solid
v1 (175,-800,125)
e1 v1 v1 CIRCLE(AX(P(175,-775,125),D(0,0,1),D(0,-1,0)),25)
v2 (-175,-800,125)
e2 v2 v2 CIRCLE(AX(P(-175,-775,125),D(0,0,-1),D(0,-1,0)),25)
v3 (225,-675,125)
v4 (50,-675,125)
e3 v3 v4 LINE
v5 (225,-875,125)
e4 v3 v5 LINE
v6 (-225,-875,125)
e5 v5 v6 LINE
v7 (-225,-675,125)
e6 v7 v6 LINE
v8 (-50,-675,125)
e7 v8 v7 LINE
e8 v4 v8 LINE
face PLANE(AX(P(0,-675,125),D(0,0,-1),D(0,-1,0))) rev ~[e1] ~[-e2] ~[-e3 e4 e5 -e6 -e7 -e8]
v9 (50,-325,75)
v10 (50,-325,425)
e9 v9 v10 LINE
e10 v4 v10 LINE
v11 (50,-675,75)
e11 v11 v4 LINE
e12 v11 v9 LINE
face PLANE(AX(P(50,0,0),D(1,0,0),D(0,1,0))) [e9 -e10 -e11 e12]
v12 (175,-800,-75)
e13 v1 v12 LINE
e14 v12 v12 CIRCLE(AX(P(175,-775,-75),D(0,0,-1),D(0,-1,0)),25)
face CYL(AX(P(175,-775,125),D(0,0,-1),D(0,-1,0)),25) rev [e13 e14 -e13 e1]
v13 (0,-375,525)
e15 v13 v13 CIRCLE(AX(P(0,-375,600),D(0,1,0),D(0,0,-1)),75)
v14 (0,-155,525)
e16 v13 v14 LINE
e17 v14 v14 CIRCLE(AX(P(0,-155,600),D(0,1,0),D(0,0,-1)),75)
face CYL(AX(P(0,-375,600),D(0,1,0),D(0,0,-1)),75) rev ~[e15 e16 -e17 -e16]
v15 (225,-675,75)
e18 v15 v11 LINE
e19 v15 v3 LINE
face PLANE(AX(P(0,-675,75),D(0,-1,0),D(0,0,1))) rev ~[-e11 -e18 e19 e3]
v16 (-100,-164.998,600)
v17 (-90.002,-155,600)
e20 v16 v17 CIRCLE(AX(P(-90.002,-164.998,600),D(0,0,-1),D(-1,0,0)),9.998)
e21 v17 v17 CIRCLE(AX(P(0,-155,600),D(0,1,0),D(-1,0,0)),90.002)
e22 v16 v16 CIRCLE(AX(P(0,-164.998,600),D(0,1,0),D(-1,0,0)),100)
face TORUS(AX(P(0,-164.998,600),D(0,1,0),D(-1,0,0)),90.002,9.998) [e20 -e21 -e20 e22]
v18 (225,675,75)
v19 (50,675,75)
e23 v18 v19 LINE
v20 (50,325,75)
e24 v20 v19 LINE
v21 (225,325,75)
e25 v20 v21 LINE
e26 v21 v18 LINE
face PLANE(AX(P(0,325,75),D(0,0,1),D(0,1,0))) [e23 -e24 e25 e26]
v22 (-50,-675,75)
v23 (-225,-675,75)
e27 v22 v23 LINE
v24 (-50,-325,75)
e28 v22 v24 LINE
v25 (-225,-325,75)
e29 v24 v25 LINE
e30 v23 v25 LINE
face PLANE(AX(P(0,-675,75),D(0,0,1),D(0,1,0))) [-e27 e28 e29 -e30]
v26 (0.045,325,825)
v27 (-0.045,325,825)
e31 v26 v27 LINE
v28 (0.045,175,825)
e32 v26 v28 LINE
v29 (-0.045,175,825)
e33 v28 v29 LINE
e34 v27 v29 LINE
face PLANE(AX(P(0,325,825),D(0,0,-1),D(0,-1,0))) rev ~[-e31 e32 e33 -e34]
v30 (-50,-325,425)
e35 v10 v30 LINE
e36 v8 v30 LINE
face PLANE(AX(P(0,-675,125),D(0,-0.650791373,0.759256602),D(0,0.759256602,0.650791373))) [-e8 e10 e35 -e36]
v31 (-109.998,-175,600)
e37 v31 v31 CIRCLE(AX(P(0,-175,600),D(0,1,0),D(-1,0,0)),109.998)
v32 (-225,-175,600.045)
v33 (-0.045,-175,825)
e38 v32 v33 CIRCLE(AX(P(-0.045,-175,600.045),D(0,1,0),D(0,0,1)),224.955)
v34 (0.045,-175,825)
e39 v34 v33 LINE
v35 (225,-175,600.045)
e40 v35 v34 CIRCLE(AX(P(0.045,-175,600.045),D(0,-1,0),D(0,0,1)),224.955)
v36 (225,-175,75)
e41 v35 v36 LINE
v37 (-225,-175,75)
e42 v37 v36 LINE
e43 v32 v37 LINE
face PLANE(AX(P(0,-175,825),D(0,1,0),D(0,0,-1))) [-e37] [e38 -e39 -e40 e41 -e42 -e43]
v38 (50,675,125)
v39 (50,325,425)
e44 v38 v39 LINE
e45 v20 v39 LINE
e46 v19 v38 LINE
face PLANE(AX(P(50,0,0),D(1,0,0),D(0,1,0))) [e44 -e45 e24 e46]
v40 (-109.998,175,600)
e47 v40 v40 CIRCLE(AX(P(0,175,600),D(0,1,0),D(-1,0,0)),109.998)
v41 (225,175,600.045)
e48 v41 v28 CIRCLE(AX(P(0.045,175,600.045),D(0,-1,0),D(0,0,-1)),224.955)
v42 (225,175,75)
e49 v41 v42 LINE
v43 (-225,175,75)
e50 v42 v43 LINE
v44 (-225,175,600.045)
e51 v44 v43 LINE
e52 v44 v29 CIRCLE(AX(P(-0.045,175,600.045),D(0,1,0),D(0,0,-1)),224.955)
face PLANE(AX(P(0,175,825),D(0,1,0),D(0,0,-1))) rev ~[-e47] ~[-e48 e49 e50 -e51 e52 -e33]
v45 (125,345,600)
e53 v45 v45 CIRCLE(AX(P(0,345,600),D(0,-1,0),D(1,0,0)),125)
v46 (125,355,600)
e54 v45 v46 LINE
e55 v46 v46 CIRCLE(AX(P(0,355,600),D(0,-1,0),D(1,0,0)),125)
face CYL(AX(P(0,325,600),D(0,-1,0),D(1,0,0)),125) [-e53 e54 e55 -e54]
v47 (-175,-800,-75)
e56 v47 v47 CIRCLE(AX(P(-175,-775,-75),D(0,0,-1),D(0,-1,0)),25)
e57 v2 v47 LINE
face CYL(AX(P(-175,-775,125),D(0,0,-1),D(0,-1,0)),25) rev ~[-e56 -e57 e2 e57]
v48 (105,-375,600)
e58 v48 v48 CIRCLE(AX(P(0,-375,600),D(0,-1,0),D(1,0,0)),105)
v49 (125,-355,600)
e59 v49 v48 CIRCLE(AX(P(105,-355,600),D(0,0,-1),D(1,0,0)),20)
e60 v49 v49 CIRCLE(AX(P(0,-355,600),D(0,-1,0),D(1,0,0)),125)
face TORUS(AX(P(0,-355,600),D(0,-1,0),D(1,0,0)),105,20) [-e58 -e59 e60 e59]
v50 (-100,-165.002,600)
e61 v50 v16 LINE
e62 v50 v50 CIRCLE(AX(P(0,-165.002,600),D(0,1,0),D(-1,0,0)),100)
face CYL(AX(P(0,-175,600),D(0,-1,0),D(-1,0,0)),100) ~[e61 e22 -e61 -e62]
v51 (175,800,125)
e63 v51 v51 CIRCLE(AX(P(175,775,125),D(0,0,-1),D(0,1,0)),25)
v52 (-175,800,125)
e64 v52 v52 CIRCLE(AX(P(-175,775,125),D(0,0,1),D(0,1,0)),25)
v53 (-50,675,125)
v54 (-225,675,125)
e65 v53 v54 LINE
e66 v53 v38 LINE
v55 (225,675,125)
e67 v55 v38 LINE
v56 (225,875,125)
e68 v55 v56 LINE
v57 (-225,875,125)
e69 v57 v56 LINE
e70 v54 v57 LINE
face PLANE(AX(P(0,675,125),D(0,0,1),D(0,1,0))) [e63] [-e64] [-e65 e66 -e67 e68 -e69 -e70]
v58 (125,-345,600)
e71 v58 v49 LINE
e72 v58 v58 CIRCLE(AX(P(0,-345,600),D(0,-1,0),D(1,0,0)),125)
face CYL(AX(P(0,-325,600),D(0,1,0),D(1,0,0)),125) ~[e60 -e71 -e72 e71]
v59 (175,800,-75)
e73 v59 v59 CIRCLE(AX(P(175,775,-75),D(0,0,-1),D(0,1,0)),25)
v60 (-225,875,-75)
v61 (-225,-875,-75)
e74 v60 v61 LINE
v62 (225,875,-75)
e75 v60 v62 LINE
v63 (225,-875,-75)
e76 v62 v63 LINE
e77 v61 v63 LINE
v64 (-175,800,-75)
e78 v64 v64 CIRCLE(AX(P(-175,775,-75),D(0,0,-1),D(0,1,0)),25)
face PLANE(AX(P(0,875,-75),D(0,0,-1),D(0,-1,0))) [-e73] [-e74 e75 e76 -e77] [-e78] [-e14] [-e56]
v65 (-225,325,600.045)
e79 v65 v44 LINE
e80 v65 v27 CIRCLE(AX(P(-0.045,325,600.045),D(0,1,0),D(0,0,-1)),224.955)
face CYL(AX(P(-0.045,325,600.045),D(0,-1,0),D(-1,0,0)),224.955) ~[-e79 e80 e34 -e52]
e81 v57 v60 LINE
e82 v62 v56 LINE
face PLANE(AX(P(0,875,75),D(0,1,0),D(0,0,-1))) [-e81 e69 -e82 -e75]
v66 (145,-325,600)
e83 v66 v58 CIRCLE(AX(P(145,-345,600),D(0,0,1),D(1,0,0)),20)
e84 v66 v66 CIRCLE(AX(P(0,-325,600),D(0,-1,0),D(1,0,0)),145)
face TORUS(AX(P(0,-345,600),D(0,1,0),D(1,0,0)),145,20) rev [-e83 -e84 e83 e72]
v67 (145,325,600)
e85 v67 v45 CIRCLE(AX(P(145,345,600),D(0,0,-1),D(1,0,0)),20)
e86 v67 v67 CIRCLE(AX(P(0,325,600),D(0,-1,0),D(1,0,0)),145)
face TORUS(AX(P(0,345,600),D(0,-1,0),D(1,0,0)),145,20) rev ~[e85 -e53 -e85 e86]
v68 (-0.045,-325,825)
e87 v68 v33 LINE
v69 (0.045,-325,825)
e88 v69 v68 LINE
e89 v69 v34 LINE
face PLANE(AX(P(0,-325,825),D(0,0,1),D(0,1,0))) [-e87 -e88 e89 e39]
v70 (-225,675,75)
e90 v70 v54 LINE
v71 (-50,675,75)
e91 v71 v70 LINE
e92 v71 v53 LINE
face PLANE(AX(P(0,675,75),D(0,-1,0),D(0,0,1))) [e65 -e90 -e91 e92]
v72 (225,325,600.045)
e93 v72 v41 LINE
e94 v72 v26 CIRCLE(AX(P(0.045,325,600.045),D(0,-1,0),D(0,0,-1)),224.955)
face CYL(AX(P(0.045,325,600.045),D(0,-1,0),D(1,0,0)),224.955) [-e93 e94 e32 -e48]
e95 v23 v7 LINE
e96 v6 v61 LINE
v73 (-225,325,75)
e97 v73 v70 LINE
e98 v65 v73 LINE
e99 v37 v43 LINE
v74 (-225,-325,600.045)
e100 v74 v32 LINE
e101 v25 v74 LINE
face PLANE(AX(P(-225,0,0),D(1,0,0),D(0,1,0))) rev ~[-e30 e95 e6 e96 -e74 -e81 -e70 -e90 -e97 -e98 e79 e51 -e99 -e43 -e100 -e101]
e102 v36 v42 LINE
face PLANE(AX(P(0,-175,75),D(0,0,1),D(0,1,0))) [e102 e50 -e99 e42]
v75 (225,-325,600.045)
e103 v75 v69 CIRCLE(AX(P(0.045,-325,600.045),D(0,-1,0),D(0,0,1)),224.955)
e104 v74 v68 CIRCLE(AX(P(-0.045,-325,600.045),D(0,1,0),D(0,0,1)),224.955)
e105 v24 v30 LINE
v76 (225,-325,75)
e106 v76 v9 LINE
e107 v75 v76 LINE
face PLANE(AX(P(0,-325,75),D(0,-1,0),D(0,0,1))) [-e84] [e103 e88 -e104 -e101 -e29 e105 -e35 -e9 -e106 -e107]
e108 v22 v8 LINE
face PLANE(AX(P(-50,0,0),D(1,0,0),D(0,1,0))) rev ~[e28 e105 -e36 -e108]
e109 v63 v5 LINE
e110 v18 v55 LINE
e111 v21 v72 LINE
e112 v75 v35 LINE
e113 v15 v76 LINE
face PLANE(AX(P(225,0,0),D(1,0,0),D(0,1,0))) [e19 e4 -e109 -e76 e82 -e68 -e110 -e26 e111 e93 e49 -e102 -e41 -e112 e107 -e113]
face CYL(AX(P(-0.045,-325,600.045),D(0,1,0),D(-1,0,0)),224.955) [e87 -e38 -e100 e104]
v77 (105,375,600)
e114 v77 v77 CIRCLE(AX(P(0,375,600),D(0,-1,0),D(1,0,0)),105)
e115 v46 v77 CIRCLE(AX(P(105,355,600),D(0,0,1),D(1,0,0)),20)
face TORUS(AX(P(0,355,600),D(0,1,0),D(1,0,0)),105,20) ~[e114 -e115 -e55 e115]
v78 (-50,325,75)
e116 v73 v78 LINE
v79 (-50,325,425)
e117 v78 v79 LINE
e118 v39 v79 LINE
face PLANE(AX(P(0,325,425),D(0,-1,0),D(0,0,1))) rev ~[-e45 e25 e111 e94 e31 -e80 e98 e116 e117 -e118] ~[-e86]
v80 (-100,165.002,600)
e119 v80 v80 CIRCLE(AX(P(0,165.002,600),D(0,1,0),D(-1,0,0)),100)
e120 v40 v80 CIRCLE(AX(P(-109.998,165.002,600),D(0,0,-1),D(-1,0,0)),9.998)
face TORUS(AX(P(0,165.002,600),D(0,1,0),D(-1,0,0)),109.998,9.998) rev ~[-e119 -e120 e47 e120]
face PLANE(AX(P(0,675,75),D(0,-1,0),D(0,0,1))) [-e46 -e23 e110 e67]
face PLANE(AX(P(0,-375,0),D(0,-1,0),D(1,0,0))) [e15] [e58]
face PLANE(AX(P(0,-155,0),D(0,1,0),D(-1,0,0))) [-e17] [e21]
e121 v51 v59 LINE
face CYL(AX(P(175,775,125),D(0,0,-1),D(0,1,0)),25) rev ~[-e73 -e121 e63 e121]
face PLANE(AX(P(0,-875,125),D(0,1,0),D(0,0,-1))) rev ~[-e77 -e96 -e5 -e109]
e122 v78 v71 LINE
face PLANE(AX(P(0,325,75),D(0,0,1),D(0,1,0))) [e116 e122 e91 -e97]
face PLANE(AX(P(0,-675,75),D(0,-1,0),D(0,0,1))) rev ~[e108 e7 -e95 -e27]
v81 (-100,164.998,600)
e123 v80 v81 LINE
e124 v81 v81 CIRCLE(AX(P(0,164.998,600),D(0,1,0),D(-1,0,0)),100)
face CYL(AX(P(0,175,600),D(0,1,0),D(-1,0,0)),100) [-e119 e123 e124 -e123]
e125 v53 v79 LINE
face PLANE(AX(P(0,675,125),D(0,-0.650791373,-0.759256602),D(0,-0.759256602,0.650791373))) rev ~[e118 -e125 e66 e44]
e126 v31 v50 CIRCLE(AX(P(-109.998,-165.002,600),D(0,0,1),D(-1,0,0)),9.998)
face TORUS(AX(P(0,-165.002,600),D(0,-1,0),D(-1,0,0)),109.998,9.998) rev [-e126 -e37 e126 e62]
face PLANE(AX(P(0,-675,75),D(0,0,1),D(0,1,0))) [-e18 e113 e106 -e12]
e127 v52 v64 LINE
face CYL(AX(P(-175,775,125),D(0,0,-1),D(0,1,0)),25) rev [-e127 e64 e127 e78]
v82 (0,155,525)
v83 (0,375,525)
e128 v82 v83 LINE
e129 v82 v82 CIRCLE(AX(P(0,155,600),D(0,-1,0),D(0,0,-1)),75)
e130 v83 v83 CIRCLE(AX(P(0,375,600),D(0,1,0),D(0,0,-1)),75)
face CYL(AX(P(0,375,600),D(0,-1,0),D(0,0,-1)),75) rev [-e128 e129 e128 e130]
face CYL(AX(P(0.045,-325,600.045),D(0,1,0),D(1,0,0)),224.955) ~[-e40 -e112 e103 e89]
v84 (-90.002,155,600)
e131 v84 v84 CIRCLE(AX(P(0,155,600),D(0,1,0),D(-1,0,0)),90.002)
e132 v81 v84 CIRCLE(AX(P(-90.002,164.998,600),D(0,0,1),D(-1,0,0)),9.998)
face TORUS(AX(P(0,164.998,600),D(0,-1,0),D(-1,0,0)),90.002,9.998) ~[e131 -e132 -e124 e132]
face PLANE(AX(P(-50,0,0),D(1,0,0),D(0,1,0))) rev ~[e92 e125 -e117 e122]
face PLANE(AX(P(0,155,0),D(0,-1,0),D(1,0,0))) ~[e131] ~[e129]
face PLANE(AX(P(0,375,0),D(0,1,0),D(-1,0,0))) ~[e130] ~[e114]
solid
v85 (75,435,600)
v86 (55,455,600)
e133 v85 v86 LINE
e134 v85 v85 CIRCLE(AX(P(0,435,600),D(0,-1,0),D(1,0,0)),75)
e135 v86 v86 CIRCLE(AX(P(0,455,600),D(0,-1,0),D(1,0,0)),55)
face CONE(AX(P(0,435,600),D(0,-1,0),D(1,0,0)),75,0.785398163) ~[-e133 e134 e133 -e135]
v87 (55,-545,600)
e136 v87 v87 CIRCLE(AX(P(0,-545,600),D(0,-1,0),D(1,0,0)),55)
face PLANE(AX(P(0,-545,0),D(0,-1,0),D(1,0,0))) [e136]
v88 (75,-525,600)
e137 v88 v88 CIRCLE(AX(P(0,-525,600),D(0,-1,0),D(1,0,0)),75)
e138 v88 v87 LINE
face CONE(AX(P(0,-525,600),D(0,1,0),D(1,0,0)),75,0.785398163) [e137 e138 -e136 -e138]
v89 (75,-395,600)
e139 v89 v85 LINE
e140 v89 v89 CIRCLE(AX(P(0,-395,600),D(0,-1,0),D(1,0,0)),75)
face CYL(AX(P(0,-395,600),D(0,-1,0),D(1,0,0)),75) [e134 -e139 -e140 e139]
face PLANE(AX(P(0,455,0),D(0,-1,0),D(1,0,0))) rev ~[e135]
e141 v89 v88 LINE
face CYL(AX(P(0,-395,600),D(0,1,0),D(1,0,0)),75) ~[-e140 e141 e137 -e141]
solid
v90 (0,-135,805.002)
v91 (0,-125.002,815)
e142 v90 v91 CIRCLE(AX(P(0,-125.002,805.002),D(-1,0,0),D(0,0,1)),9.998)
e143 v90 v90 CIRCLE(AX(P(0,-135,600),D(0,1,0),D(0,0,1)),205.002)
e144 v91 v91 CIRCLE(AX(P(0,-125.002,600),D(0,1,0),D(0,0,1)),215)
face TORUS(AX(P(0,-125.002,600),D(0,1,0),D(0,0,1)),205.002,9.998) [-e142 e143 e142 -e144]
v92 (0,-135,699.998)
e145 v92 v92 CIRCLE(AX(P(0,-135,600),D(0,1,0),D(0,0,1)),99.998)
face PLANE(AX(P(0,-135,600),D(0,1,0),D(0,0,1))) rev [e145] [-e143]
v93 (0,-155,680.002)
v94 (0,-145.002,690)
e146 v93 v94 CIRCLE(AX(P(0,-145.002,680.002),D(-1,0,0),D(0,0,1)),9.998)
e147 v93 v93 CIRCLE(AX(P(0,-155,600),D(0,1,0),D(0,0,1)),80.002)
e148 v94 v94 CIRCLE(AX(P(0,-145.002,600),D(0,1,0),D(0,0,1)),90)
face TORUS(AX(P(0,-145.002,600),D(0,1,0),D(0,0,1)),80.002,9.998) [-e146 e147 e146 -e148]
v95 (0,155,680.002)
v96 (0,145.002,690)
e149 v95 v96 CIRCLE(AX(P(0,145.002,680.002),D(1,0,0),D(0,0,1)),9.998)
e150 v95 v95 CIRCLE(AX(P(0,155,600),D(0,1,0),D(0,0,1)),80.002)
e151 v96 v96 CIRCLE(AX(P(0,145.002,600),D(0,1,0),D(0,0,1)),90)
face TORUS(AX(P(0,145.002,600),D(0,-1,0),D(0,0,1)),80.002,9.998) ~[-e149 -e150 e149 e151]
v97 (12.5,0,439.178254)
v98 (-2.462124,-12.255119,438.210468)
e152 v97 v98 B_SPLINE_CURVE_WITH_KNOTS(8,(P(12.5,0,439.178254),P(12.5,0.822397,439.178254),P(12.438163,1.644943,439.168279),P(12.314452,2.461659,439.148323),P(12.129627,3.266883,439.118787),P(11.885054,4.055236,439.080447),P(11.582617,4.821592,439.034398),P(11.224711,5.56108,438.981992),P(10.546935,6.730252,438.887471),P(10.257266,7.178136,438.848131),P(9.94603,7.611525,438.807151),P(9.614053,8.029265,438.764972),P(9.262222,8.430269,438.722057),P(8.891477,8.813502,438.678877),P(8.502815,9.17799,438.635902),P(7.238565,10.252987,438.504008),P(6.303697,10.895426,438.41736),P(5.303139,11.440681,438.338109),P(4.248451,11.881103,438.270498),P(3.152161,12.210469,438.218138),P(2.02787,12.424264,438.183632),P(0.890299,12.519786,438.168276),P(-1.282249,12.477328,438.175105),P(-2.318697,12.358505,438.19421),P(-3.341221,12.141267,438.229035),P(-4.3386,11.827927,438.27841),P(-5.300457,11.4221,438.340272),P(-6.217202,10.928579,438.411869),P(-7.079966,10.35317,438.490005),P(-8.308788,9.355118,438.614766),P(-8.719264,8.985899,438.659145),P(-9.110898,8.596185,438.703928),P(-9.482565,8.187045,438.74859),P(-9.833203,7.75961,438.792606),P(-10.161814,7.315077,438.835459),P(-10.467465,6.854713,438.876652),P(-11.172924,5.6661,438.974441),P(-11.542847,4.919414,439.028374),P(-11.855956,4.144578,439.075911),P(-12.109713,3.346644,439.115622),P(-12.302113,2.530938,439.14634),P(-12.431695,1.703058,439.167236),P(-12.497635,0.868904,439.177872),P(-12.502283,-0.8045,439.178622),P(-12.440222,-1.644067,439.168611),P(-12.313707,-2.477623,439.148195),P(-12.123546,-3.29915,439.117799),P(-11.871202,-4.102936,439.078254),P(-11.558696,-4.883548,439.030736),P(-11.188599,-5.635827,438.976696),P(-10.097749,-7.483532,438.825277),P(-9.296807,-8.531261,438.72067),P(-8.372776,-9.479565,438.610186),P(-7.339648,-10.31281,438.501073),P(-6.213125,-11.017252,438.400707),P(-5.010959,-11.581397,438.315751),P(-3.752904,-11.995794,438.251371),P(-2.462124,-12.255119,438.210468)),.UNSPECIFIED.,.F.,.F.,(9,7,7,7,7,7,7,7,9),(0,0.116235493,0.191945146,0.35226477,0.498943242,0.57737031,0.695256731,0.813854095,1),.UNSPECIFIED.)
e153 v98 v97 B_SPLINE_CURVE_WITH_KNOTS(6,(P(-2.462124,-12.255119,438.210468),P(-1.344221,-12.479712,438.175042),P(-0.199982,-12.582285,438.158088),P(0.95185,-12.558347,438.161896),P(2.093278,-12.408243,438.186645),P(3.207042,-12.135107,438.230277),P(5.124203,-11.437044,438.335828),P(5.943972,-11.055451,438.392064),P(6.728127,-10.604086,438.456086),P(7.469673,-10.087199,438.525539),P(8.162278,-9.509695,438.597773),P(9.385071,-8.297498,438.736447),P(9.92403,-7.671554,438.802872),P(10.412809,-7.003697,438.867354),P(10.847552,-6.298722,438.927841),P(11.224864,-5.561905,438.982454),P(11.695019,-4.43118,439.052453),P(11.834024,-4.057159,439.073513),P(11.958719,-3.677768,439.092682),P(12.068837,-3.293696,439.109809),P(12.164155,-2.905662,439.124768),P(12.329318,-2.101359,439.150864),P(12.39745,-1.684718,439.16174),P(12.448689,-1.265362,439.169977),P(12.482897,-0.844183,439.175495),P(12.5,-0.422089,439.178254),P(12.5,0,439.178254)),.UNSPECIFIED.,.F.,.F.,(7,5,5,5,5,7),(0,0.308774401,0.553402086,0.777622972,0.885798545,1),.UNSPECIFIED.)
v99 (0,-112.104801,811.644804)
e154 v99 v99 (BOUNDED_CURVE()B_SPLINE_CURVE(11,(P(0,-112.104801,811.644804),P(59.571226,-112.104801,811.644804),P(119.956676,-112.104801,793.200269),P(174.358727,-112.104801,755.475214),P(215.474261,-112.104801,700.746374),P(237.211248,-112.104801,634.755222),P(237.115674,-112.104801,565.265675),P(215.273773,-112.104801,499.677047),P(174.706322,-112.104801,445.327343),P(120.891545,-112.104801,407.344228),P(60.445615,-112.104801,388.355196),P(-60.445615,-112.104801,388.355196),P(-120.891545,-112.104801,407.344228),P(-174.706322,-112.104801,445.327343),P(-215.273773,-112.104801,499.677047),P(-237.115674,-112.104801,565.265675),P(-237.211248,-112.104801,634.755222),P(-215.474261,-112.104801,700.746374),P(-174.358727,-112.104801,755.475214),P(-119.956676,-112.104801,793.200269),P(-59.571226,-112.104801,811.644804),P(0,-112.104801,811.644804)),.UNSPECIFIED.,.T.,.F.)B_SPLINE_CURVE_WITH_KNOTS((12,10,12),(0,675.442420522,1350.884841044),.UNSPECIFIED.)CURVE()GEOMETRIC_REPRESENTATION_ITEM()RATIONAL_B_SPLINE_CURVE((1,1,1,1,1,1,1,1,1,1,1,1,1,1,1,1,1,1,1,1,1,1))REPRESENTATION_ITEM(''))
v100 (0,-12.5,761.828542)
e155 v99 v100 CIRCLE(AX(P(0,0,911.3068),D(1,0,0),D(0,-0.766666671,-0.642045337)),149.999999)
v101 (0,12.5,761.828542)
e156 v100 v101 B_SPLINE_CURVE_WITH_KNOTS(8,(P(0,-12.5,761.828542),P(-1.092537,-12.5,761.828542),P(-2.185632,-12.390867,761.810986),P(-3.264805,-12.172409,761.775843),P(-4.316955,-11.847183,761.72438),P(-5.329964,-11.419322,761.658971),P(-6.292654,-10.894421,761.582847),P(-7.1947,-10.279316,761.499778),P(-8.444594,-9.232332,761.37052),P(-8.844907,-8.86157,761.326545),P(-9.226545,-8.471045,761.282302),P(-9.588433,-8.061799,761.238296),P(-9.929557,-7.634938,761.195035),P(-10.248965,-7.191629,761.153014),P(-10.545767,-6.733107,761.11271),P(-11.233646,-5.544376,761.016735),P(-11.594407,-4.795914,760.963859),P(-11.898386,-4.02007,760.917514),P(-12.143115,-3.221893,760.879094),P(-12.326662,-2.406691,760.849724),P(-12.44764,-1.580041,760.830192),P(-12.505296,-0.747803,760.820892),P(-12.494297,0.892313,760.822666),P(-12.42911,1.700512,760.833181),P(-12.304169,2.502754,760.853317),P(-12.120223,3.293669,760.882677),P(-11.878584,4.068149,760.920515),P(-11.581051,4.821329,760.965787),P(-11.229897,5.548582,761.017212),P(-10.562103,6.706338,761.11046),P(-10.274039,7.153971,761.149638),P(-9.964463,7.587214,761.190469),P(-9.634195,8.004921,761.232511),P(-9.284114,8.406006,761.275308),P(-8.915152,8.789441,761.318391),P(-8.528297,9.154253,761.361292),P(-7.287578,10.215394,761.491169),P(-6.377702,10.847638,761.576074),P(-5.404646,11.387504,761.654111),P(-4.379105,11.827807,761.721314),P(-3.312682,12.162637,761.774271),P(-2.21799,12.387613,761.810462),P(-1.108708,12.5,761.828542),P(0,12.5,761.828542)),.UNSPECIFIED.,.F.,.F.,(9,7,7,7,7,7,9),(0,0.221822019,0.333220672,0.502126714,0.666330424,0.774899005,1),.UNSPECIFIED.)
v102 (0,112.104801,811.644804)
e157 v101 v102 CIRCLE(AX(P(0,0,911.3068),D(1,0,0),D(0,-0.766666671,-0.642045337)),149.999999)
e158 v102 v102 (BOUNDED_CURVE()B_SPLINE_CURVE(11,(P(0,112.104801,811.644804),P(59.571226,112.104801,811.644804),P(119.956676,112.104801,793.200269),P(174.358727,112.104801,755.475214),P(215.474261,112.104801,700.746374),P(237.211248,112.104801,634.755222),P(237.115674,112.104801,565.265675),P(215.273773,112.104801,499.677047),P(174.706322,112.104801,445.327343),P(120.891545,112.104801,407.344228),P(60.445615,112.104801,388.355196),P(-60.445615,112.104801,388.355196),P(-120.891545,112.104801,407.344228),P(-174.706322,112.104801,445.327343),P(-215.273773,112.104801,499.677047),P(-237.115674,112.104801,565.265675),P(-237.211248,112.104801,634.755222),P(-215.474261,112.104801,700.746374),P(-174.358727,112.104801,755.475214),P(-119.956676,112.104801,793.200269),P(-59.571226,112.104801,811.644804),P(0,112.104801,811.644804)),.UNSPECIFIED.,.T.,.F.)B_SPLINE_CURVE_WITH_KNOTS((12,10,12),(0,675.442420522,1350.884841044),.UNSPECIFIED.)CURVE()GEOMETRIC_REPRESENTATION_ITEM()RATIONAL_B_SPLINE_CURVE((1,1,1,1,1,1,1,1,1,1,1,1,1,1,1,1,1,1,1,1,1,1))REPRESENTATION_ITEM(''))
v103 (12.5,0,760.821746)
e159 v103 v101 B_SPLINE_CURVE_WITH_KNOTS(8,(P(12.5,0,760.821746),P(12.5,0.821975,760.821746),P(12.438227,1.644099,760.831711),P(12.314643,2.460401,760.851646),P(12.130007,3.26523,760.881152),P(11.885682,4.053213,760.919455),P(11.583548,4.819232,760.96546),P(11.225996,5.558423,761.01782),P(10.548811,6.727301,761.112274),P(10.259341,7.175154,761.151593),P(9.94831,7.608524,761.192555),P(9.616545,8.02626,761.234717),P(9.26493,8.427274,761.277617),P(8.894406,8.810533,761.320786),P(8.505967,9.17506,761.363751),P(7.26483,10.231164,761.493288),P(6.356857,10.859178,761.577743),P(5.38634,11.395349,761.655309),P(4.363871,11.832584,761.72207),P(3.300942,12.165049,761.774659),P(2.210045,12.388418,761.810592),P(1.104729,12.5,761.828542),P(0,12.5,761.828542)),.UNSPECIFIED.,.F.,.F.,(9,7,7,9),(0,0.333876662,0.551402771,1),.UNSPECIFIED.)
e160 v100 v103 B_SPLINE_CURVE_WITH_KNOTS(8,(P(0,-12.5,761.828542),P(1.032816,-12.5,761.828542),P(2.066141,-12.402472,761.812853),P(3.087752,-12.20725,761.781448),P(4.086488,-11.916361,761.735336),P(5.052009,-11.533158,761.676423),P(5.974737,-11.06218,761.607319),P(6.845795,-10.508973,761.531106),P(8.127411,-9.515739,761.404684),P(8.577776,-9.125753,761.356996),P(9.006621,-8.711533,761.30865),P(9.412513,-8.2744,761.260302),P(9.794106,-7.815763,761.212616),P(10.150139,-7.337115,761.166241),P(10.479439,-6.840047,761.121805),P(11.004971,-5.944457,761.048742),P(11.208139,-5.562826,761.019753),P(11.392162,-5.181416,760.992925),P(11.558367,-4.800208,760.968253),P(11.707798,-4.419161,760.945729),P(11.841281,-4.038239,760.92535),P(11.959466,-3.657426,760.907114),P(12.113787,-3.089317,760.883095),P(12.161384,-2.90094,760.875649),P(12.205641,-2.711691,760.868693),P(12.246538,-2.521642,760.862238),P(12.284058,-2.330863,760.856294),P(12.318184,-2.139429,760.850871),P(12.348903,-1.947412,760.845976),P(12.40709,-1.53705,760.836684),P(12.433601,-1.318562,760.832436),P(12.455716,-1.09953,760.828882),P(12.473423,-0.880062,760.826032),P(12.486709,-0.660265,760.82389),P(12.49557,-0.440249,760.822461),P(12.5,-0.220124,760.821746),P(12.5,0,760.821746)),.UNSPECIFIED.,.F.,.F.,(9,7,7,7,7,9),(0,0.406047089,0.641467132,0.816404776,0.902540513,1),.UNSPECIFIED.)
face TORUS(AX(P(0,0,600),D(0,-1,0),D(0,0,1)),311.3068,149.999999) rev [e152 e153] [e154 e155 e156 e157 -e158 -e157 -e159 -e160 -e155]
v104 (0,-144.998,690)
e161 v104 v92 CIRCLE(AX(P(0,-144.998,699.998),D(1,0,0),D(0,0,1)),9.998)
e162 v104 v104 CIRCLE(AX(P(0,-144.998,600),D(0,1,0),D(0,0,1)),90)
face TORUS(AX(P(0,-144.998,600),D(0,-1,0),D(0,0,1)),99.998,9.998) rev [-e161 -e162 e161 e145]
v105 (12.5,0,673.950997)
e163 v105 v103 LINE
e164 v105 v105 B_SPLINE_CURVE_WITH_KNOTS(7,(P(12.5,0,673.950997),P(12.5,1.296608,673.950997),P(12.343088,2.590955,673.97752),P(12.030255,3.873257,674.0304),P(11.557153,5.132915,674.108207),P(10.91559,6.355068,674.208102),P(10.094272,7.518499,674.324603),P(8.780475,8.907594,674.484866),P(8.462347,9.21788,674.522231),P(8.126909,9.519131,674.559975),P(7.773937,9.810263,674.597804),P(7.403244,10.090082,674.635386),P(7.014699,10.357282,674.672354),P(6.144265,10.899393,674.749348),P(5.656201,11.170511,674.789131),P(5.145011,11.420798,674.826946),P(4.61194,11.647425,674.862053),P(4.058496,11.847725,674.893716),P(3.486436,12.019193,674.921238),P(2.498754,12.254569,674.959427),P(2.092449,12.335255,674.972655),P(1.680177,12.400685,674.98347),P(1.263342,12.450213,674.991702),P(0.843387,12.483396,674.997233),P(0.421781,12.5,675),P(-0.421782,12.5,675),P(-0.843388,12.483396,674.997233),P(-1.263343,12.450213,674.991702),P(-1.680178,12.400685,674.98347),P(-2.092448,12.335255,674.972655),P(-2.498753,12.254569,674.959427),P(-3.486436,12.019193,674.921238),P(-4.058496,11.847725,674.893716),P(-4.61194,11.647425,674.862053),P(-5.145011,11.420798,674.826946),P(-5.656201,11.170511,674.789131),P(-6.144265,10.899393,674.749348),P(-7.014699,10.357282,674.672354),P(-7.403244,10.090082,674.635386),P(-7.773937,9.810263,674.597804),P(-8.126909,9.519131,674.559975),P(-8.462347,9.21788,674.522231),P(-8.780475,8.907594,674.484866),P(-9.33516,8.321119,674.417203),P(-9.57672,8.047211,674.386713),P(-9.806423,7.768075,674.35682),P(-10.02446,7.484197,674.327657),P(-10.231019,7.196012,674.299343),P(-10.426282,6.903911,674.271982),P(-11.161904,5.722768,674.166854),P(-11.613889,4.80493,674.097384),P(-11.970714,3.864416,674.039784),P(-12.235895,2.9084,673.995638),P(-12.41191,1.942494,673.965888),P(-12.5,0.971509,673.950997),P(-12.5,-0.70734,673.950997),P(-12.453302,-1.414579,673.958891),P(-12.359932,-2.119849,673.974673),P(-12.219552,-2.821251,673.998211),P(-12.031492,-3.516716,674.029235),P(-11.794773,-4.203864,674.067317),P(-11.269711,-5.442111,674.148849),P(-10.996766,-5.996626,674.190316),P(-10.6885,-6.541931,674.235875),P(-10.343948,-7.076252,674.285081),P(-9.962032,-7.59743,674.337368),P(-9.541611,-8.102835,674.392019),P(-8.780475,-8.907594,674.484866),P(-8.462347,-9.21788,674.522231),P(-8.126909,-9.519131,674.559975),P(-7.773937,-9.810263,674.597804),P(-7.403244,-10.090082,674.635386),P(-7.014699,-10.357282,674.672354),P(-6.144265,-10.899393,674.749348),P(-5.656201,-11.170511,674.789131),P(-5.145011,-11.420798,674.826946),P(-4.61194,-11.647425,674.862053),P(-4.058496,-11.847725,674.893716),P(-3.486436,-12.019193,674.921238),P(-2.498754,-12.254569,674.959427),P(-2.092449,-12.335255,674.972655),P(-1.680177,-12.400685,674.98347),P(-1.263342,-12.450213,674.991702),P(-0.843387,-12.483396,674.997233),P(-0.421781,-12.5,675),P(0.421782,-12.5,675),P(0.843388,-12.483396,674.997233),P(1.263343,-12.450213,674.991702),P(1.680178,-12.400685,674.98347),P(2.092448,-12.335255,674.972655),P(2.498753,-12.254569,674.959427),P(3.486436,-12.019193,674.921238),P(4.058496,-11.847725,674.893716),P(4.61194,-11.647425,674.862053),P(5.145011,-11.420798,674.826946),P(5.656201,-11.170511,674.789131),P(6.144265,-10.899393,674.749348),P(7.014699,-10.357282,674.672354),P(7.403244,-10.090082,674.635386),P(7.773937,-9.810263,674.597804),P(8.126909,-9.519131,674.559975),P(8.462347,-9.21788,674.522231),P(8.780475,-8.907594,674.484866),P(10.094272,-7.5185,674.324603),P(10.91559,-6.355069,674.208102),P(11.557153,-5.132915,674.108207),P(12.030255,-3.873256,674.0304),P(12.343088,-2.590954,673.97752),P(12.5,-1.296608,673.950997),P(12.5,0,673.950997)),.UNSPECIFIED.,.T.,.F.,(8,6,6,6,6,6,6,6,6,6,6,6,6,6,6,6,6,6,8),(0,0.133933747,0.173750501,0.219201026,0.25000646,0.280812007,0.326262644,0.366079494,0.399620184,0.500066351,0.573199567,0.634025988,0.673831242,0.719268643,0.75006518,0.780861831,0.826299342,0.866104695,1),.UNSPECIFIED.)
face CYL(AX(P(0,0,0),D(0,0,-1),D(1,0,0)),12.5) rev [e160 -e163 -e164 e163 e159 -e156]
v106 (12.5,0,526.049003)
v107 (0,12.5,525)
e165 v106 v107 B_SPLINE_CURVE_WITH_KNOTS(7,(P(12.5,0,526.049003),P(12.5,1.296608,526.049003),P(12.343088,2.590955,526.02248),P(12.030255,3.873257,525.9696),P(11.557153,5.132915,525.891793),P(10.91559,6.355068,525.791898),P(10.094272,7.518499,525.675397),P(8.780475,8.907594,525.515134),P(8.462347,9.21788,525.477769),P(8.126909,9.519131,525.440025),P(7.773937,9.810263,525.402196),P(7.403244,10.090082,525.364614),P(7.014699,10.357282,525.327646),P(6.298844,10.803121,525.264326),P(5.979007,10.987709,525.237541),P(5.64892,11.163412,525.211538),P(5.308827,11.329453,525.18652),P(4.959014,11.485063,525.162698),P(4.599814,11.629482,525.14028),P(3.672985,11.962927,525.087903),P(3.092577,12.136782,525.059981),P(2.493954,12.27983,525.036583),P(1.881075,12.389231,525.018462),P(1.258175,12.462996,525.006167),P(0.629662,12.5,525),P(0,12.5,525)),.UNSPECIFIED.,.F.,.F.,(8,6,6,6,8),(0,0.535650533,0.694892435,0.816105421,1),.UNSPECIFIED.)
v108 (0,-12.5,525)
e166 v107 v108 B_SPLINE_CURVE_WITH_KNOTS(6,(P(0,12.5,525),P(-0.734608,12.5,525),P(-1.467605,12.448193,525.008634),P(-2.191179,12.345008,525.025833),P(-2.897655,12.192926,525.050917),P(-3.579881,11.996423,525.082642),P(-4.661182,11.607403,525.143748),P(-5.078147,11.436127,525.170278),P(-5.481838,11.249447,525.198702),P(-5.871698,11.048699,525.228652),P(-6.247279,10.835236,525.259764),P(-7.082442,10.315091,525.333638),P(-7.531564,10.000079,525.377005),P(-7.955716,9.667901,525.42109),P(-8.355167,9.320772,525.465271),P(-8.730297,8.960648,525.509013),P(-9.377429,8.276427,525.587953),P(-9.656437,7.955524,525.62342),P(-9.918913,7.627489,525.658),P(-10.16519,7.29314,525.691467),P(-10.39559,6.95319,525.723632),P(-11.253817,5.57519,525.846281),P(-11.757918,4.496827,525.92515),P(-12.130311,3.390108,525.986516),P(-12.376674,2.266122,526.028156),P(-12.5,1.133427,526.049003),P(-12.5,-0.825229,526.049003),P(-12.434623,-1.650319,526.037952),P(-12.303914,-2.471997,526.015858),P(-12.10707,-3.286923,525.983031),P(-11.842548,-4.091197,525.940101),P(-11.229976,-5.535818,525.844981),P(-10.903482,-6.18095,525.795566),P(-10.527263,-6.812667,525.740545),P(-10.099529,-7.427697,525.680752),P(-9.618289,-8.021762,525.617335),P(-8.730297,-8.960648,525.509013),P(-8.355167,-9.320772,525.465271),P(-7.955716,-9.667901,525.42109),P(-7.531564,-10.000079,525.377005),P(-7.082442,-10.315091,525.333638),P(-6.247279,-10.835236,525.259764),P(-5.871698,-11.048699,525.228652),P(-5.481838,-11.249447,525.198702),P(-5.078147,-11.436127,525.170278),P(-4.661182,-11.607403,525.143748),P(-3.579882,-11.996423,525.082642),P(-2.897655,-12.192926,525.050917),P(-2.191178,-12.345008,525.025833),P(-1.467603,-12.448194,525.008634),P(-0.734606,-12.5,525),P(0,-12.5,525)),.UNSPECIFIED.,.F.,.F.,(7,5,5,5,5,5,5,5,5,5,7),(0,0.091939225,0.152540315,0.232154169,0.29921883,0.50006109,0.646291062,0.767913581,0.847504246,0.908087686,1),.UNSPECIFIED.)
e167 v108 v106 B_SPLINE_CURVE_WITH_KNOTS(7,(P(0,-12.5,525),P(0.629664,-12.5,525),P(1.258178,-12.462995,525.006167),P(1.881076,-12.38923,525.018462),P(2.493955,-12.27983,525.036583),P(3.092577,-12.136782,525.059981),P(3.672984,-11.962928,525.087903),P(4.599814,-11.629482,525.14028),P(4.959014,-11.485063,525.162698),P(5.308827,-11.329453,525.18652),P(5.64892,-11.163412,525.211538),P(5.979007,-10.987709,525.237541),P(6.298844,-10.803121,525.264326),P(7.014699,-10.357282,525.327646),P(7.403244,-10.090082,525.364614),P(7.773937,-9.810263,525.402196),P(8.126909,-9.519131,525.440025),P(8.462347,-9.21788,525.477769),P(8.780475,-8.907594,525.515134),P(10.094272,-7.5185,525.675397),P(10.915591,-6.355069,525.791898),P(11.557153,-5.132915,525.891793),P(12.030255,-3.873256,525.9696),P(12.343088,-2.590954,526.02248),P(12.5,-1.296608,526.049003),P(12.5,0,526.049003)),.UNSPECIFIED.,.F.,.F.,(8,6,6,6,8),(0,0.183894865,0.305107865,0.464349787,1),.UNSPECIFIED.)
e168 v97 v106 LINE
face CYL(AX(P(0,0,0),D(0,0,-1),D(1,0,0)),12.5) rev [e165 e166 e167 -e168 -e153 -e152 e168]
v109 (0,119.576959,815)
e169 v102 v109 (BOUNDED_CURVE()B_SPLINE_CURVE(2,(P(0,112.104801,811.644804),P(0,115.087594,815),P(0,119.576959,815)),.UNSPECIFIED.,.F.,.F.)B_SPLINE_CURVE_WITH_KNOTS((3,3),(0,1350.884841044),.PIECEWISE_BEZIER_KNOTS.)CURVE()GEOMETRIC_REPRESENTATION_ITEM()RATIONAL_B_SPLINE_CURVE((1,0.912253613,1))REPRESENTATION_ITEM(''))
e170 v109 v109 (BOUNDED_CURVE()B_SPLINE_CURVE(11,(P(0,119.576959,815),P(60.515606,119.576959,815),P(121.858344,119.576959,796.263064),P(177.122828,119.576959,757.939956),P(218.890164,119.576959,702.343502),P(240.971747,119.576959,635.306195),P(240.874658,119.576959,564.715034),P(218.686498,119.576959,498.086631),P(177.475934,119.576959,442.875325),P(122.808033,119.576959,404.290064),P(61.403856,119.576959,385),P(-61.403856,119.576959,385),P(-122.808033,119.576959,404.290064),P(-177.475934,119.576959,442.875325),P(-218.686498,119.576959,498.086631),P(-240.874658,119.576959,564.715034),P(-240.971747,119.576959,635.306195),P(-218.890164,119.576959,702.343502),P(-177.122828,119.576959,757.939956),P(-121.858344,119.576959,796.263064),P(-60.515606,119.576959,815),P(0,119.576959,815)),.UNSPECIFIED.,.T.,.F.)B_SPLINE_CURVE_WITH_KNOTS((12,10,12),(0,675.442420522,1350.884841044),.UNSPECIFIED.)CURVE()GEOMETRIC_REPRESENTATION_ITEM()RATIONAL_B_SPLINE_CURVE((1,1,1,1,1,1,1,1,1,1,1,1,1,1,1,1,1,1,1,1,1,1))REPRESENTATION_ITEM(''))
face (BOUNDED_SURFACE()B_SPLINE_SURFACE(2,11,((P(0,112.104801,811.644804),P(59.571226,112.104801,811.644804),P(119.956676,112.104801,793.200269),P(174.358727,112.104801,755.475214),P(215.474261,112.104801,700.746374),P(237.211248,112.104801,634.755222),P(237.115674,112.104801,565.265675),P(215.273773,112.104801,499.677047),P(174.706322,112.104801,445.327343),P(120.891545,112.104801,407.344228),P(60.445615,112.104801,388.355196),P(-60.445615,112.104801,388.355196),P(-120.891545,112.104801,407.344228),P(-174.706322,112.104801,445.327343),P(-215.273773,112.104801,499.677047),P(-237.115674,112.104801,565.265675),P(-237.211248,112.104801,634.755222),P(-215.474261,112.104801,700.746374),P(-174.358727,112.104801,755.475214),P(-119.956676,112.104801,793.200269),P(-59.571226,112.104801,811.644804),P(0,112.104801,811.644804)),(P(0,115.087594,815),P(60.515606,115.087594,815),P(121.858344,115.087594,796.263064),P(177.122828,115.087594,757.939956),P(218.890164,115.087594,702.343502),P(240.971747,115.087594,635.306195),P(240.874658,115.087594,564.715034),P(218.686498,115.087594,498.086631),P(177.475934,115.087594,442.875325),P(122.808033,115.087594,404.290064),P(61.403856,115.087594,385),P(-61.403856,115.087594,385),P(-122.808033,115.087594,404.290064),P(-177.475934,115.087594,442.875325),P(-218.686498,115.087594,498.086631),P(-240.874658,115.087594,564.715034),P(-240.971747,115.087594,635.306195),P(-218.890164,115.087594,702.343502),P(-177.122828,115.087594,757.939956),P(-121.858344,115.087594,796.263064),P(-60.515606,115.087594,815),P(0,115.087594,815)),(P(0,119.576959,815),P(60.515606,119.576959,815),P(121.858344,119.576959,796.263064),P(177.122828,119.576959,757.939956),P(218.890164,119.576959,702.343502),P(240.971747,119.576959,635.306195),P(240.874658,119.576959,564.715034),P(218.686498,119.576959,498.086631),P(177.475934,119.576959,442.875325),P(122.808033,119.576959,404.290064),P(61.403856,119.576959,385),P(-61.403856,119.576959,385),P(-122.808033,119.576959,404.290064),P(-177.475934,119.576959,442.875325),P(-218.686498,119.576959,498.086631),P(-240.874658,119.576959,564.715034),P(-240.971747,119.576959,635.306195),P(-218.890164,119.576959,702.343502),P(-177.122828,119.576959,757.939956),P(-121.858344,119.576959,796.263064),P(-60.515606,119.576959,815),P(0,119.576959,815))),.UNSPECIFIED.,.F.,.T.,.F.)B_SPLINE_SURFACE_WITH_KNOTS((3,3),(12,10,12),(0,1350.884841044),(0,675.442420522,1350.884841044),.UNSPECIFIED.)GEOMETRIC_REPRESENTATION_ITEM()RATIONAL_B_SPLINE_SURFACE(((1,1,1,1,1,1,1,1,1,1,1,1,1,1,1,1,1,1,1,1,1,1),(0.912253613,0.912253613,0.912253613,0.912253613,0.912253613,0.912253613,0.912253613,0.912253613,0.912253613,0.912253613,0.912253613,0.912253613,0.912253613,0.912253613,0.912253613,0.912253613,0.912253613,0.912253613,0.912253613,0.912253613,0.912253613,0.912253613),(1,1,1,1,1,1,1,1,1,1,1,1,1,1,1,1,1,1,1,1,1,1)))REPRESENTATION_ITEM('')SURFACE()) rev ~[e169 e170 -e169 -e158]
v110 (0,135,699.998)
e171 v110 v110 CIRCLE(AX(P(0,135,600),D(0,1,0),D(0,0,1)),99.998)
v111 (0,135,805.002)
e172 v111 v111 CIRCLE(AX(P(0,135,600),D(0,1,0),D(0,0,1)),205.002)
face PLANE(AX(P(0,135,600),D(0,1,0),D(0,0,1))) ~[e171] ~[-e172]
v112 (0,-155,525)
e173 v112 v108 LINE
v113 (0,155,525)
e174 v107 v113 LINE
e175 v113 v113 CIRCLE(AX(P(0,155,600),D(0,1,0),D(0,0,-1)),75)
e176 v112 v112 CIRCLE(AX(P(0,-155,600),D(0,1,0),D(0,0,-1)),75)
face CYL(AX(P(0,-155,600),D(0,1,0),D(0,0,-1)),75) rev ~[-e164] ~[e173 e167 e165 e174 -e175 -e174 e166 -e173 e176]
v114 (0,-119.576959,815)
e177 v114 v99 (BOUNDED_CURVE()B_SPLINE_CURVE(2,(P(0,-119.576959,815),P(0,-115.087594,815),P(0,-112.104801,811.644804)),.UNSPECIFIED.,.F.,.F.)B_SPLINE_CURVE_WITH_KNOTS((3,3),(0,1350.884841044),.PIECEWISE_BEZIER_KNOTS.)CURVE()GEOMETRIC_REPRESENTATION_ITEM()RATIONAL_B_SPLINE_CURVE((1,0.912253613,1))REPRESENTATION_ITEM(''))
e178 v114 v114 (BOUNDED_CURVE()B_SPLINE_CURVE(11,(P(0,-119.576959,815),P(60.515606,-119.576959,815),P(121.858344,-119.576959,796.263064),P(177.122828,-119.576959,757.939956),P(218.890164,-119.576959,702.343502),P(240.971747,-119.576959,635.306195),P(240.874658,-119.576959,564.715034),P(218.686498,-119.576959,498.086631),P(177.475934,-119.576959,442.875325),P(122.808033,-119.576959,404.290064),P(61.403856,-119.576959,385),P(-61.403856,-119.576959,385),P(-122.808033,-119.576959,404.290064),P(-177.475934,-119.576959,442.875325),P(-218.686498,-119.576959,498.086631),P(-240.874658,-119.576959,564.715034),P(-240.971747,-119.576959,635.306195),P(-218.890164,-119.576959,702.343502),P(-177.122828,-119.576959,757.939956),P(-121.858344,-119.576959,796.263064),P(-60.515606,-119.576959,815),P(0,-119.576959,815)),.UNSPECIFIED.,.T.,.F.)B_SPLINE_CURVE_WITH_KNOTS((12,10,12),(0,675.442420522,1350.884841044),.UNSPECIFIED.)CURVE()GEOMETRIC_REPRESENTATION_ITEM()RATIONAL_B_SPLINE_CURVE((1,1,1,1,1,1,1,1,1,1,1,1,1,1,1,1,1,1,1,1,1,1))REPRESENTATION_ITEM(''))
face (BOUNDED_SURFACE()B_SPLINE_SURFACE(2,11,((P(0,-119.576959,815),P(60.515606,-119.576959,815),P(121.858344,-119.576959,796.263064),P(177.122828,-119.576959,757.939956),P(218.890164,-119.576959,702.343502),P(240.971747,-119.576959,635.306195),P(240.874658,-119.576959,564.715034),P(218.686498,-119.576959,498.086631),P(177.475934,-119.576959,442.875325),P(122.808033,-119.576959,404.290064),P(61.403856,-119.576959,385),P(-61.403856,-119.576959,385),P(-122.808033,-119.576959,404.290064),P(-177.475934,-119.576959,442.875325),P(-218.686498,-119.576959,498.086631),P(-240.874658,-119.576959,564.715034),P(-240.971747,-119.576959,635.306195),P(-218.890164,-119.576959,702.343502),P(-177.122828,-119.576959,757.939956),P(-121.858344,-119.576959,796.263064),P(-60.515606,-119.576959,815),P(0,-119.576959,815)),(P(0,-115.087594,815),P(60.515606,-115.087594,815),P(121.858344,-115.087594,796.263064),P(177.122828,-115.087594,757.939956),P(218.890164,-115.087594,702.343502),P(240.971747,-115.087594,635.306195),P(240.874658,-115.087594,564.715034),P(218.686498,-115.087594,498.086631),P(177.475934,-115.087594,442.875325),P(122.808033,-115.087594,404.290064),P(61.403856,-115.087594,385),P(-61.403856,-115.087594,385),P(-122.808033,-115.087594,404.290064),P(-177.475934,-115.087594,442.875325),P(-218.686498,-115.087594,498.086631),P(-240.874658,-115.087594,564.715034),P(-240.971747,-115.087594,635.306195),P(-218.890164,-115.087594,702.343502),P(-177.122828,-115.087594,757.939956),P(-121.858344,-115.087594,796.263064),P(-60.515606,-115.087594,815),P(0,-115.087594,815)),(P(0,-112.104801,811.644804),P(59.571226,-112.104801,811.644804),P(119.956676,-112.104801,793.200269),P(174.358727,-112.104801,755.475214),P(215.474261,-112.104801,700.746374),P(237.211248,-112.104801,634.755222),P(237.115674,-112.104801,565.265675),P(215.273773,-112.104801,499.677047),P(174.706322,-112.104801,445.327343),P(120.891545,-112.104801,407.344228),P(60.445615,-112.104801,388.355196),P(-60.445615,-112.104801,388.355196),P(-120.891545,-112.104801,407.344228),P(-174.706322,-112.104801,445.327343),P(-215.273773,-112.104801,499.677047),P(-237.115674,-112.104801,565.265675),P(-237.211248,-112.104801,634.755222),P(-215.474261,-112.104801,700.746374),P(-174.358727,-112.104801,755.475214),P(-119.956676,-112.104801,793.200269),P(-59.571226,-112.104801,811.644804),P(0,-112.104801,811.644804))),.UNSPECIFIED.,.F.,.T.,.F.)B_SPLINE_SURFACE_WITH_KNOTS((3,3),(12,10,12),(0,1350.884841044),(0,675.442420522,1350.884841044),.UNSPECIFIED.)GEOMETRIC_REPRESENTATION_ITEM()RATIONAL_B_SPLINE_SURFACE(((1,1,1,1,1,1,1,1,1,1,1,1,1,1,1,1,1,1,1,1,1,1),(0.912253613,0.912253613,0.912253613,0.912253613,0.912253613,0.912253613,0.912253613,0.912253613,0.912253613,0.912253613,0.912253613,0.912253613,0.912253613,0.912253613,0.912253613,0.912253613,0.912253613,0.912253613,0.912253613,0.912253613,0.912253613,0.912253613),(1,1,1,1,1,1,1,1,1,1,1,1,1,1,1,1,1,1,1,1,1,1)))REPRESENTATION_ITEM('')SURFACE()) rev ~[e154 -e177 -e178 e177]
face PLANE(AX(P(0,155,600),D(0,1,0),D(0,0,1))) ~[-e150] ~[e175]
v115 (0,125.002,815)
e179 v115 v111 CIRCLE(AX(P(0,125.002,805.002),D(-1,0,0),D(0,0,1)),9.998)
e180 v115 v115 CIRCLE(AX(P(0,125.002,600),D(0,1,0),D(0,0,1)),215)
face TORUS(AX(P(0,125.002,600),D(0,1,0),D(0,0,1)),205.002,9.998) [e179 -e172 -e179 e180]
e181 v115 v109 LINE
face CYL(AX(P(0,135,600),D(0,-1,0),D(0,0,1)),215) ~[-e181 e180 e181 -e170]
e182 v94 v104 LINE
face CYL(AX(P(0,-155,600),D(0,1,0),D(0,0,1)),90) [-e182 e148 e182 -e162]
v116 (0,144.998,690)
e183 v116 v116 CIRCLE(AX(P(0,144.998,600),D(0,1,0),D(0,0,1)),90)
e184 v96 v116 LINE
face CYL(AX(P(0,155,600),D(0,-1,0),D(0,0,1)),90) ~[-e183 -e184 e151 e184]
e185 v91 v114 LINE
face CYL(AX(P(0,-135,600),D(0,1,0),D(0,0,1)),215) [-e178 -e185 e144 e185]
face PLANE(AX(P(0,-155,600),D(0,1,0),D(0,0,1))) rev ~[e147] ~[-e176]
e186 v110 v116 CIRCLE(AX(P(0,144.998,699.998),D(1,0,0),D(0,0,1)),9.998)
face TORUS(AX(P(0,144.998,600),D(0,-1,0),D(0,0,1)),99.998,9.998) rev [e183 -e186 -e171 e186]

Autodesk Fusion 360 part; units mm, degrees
sketch "Sketch1" plane through (0, 0, 0) normal (1, 0, 0) x (0, 1, 0) in component "Base "
  line L0 (-875, 75) -> (875, 75)
  line L1 (875, 75) -> (875, -75)
  line L2 (875, -75) -> (-875, -75)
  line L3 (-875, -75) -> (-875, 75)
  line L4 (175, 75) -> (325, 75)
  line L5 (325, 75) -> (325, 825)
  line L6 (325, 825) -> (175, 825)
  line L7 (175, 825) -> (175, 75)
  line L8 (875, 75) -> (675, 75)
  line L9 (675, 75) -> (675, 125)
  line L10 (675, 125) -> (875, 125)
  line L11 (875, 125) -> (875, 75)
  line L12 (675, 125) -> (325, 425)
  line L13 (-325, 75) -> (-325, 825)
  line L14 (-325, 825) -> (-175, 825)
  line L15 (-175, 75) -> (-325, 75)
  line L16 (-175, 825) -> (-175, 75)
  line L17 (-675, 125) -> (-325, 425)
  line L18 (-675, 75) -> (-675, 125)
  line L19 (-875, 125) -> (-875, 75)
  line L20 (-675, 125) -> (-875, 125)
  dimension "d1" = 1750
  dimension "d2" = 150
  dimension "d3" = 150
  dimension "d4" = 750
  dimension "d5" = 200
  dimension "d6" = 50
  dimension "d7" = 400
  dimension "d8" = 350
extrude "Extrude1" add sketch "Sketch1" along normal mid plane 450 contours L0 L18 L19 L20 | L0 L1 L2 L3 L4 L8 L15 | L0 L13 L14 L15 L16 | L0 L8 L9 L10 L11 | L0 L4 L5 L6 L7 makes body 1 in component "Base "
extrude "Extrude2" add sketch "Sketch1" along normal mid plane 100 contours L0 L13 L17 L18 | L0 L5 L9 L12 bodies 1 in component "Base "
fillet "Fillet1" radius 225 4 edges at (-225, -250, 825) (225, -250, 825) (225, 250, 825) (-225, 250, 825) on bodies 1 in component "Base "
sketch "Sketch2" plane through (0, -325, 0) normal (0, -1, 0) x (1, 0, 0) in component "Base "
  arc A0 (225, 600) -> (-225, 600) centre (0, 600) ccw
  line L0 (-225, 600) -> (-225, 75)
  line L1 (-225, 75) -> (-50, 75)
  line L2 (-50, 75) -> (-50, 425)
  line L3 (-50, 425) -> (50, 425)
  line L4 (50, 425) -> (50, 75)
  line L5 (50, 75) -> (225, 75)
  line L6 (225, 75) -> (225, 600)
  circle A1 centre (0, 600) radius 125
  dimension "d15" = 250
extrude "Extrude3" add sketch "Sketch2" along normal blind 50 contours A1 bodies 1 in component "Base "
sketch "Sketch3" plane through (0, -175, 0) normal (0, 1, 0) x (-1, 0, 0) in component "Base "
  arc A0 (225, 600) -> (-225, 600) centre (0, 600) ccw
  line L0 (-225, 600) -> (-225, 75)
  line L1 (-225, 75) -> (225, 75)
  line L2 (225, 75) -> (225, 600)
  circle A1 centre (0, 600) radius 100
  dimension "d18" = 200
extrude "Extrude4" add sketch "Sketch3" along normal blind 20 contours A1 bodies 1 in component "Base "
fillet "Fillet2" radius 20 2 edges at (-116.5409, -375, 554.7981) (-116.5409, -325, 645.2019) on bodies 1 in component "Base "
fillet "Fillet3" radius 10 2 edges at (93.2327, -155, 563.8385) (93.2327, -175, 636.1615) on bodies 1 in component "Base "
hole "Hole1" at (0, -375, 600) direction (0, 1, 0) diameter 150 end through all bodies 1 1 in component "Base "
mirror "Mirror1" about plane through (0, 0, 0) normal (0, 1, 0) of "Extrude3", "Extrude4", "Fillet2", "Fillet3", "Hole1" in component "Base "
hole "Hole2" at (-175, -775, 125) direction (0, 0, -1) diameter 50 end through all bodies 1 1 in component "Base "
mirror "Mirror2" about plane through (0, 0, 0) normal (1, 0, 0) of "Hole2" in component "Base "
mirror "Mirror3" about plane through (0, 0, 0) normal (0, 1, 0) of "Hole2", "Mirror2" in component "Base "
sketch "Sketch1 (2)" plane through (0, 0, 0) normal (1, 0, 0) x (0, 1, 0) in component "Roller "
  line L0 (175, 710) -> (175, 825)
  line L1 (175, 75) -> (175, 490)
  line L2 (155, 510) -> (155, 690)
  line L3 (325, 825) -> (325, 745)
  line L4 (325, 455) -> (325, 425)
  line L5 (375, 600) -> (375, 495)
  line L6 (375, 705) -> (375, 600)
  line L7 (-875, 125) -> (-675, 125)
  line L8 (-875, -75) -> (-875, 125)
  line L9 (875, -75) -> (-875, -75)
  line L10 (875, 125) -> (875, -75)
  line L11 (675, 125) -> (875, 125)
  line L12 (-175, 75) -> (175, 75)
  line L13 (-675, 125) -> (-325, 425)
  line L14 (325, 425) -> (675, 125)
  line L15 (-325, 425) -> (-325, 455)
  line L16 (-175, 490) -> (-175, 75)
  line L17 (-325, 745) -> (-325, 825)
  line L18 (-175, 825) -> (-175, 710)
  line L19 (-375, 600) -> (-375, 705)
  line L20 (-375, 495) -> (-375, 600)
  line L21 (-155, 690) -> (-155, 510)
  arc A0 (165, 700) -> (175, 710) centre (165, 710) ccw
  arc A1 (175, 490) -> (165, 500) centre (165, 490) ccw
  arc A2 (165, 700) -> (155, 690) centre (165, 690) ccw
  arc A3 (155, 510) -> (165, 500) centre (165, 510) ccw
  arc A4 (345, 475) -> (325, 455) centre (345, 455) ccw
  arc A5 (325, 745) -> (345, 725) centre (345, 745) ccw
  line L22 (355, 725) -> (345, 725)
  line L23 (355, 475) -> (345, 475)
  arc A6 (355, 475) -> (375, 495) centre (355, 495) ccw
  arc A7 (375, 705) -> (355, 725) centre (355, 705) ccw
  line L24 (-325, 825) -> (-175, 825)
  line L25 (325, 825) -> (175, 825)
  arc A8 (-375, 495) -> (-355, 475) centre (-355, 495) ccw
  arc A9 (-355, 725) -> (-375, 705) centre (-355, 705) ccw
  line L26 (-345, 725) -> (-355, 725)
  line L27 (-345, 475) -> (-355, 475)
  arc A10 (-345, 725) -> (-325, 745) centre (-345, 745) ccw
  arc A11 (-325, 455) -> (-345, 475) centre (-345, 455) ccw
  arc A12 (-155, 690) -> (-165, 700) centre (-165, 690) ccw
  arc A13 (-165, 500) -> (-155, 510) centre (-165, 510) ccw
  arc A14 (-165, 500) -> (-175, 490) centre (-165, 490) ccw
  arc A15 (-175, 710) -> (-165, 700) centre (-165, 710) ccw
  line L28 (-155, 690) -> (-135, 690)
  line L29 (-135, 690) -> (-135, 815)
  line L30 (-135, 815) -> (-115, 815)
  line L31 (0, 75) -> (0, 600) construction
  line L32 (155, 690) -> (135, 690)
  line L33 (135, 690) -> (135, 815)
  line L34 (135, 815) -> (115, 815)
  arc A16 (-115, 815) -> (115, 815) centre (0, 911.3068) ccw
  line L35 (-155, 600) -> (155, 600)
  dimension "d39" = 20
  dimension "d40" = 125
  dimension "d41" = 20
  dimension "d42" = 150
revolve "Revolve1" add sketch "Sketch1 (2)" angle 360 about axis through (0, -155, 600) along (0, 1, 0) separate body contours L2 L21 L28 L29 L30 L32 L33 L34 A16 L35 makes body 2 in component "Roller "
fillet "Fillet1'" radius 10 8 edges at (-83.9095, -155, 632.5454) (-200.4504, -135, 677.7473) (-200.4504, -115, 677.7473) (-200.4504, 115, 677.7473) (-200.4504, 135, 677.7473) (-83.9095, 155, 632.5454) (-83.9095, -135, 632.5454) (-83.9095, 135, 632.5454) on bodies 2 in component "Roller "
sketch "Sketch2 (2)" plane through (0, 0, 0) normal (0, 0, 1) x (1, 0, 0) in component "Roller "
  circle A0 centre (0, 0) radius 12.5
  dimension "d46" = 25
extrude "Extrude1'" cut sketch "Sketch2 (2)" along normal blind 950 bodies 2 in component "Roller "
hole "Hole1'" at (0, -155, 600) direction (0, 1, 0) diameter 150 end through all bodies 2 2 in component "Roller "
sketch "Sketch1 (3)" plane through (0, -325, 0) normal (0, -1, 0) x (1, 0, 0) in component "Pin"
  arc A0 (225, 600) -> (-225, 600) centre (0, 600) ccw
  line L0 (-225, 600) -> (-225, 75)
  line L1 (-225, 75) -> (-50, 75)
  line L2 (-50, 75) -> (-50, 425)
  line L3 (-50, 425) -> (50, 425)
  line L4 (50, 425) -> (50, 75)
  line L5 (50, 75) -> (225, 75)
  line L6 (225, 75) -> (225, 600)
  circle A1 centre (0, 600) radius 145
  circle A2 centre (0, 600) radius 125
  circle A3 centre (0, 600) radius 75
  dimension "d52" = 250
  dimension "d53" = 150
extrude "Extrude1''" add sketch "Sketch1 (3)" along normal blind 150 and the other way blind 850 separate body contours A3 makes body 3 in component "Pin"
chamfer "Chamfer1" distance 20 angle 45 2 edges at (-69.9246, -475, 572.8788) (-69.9246, 525, 627.1212) on bodies 3 in component "Pin"
component "Base " placed x (1, 0, 0) y (0, 1, 0) z (0, 0, 1) at (0, 0, 0)
component "Roller " placed x (1, 0, 0) y (0, 1, 0) z (0, 0, 1) at (0, 0, 0)
component "Pin" placed x (1, 0, 0) y (0, 1, 0) z (0, 0, 1) at (0, -70, 0)
